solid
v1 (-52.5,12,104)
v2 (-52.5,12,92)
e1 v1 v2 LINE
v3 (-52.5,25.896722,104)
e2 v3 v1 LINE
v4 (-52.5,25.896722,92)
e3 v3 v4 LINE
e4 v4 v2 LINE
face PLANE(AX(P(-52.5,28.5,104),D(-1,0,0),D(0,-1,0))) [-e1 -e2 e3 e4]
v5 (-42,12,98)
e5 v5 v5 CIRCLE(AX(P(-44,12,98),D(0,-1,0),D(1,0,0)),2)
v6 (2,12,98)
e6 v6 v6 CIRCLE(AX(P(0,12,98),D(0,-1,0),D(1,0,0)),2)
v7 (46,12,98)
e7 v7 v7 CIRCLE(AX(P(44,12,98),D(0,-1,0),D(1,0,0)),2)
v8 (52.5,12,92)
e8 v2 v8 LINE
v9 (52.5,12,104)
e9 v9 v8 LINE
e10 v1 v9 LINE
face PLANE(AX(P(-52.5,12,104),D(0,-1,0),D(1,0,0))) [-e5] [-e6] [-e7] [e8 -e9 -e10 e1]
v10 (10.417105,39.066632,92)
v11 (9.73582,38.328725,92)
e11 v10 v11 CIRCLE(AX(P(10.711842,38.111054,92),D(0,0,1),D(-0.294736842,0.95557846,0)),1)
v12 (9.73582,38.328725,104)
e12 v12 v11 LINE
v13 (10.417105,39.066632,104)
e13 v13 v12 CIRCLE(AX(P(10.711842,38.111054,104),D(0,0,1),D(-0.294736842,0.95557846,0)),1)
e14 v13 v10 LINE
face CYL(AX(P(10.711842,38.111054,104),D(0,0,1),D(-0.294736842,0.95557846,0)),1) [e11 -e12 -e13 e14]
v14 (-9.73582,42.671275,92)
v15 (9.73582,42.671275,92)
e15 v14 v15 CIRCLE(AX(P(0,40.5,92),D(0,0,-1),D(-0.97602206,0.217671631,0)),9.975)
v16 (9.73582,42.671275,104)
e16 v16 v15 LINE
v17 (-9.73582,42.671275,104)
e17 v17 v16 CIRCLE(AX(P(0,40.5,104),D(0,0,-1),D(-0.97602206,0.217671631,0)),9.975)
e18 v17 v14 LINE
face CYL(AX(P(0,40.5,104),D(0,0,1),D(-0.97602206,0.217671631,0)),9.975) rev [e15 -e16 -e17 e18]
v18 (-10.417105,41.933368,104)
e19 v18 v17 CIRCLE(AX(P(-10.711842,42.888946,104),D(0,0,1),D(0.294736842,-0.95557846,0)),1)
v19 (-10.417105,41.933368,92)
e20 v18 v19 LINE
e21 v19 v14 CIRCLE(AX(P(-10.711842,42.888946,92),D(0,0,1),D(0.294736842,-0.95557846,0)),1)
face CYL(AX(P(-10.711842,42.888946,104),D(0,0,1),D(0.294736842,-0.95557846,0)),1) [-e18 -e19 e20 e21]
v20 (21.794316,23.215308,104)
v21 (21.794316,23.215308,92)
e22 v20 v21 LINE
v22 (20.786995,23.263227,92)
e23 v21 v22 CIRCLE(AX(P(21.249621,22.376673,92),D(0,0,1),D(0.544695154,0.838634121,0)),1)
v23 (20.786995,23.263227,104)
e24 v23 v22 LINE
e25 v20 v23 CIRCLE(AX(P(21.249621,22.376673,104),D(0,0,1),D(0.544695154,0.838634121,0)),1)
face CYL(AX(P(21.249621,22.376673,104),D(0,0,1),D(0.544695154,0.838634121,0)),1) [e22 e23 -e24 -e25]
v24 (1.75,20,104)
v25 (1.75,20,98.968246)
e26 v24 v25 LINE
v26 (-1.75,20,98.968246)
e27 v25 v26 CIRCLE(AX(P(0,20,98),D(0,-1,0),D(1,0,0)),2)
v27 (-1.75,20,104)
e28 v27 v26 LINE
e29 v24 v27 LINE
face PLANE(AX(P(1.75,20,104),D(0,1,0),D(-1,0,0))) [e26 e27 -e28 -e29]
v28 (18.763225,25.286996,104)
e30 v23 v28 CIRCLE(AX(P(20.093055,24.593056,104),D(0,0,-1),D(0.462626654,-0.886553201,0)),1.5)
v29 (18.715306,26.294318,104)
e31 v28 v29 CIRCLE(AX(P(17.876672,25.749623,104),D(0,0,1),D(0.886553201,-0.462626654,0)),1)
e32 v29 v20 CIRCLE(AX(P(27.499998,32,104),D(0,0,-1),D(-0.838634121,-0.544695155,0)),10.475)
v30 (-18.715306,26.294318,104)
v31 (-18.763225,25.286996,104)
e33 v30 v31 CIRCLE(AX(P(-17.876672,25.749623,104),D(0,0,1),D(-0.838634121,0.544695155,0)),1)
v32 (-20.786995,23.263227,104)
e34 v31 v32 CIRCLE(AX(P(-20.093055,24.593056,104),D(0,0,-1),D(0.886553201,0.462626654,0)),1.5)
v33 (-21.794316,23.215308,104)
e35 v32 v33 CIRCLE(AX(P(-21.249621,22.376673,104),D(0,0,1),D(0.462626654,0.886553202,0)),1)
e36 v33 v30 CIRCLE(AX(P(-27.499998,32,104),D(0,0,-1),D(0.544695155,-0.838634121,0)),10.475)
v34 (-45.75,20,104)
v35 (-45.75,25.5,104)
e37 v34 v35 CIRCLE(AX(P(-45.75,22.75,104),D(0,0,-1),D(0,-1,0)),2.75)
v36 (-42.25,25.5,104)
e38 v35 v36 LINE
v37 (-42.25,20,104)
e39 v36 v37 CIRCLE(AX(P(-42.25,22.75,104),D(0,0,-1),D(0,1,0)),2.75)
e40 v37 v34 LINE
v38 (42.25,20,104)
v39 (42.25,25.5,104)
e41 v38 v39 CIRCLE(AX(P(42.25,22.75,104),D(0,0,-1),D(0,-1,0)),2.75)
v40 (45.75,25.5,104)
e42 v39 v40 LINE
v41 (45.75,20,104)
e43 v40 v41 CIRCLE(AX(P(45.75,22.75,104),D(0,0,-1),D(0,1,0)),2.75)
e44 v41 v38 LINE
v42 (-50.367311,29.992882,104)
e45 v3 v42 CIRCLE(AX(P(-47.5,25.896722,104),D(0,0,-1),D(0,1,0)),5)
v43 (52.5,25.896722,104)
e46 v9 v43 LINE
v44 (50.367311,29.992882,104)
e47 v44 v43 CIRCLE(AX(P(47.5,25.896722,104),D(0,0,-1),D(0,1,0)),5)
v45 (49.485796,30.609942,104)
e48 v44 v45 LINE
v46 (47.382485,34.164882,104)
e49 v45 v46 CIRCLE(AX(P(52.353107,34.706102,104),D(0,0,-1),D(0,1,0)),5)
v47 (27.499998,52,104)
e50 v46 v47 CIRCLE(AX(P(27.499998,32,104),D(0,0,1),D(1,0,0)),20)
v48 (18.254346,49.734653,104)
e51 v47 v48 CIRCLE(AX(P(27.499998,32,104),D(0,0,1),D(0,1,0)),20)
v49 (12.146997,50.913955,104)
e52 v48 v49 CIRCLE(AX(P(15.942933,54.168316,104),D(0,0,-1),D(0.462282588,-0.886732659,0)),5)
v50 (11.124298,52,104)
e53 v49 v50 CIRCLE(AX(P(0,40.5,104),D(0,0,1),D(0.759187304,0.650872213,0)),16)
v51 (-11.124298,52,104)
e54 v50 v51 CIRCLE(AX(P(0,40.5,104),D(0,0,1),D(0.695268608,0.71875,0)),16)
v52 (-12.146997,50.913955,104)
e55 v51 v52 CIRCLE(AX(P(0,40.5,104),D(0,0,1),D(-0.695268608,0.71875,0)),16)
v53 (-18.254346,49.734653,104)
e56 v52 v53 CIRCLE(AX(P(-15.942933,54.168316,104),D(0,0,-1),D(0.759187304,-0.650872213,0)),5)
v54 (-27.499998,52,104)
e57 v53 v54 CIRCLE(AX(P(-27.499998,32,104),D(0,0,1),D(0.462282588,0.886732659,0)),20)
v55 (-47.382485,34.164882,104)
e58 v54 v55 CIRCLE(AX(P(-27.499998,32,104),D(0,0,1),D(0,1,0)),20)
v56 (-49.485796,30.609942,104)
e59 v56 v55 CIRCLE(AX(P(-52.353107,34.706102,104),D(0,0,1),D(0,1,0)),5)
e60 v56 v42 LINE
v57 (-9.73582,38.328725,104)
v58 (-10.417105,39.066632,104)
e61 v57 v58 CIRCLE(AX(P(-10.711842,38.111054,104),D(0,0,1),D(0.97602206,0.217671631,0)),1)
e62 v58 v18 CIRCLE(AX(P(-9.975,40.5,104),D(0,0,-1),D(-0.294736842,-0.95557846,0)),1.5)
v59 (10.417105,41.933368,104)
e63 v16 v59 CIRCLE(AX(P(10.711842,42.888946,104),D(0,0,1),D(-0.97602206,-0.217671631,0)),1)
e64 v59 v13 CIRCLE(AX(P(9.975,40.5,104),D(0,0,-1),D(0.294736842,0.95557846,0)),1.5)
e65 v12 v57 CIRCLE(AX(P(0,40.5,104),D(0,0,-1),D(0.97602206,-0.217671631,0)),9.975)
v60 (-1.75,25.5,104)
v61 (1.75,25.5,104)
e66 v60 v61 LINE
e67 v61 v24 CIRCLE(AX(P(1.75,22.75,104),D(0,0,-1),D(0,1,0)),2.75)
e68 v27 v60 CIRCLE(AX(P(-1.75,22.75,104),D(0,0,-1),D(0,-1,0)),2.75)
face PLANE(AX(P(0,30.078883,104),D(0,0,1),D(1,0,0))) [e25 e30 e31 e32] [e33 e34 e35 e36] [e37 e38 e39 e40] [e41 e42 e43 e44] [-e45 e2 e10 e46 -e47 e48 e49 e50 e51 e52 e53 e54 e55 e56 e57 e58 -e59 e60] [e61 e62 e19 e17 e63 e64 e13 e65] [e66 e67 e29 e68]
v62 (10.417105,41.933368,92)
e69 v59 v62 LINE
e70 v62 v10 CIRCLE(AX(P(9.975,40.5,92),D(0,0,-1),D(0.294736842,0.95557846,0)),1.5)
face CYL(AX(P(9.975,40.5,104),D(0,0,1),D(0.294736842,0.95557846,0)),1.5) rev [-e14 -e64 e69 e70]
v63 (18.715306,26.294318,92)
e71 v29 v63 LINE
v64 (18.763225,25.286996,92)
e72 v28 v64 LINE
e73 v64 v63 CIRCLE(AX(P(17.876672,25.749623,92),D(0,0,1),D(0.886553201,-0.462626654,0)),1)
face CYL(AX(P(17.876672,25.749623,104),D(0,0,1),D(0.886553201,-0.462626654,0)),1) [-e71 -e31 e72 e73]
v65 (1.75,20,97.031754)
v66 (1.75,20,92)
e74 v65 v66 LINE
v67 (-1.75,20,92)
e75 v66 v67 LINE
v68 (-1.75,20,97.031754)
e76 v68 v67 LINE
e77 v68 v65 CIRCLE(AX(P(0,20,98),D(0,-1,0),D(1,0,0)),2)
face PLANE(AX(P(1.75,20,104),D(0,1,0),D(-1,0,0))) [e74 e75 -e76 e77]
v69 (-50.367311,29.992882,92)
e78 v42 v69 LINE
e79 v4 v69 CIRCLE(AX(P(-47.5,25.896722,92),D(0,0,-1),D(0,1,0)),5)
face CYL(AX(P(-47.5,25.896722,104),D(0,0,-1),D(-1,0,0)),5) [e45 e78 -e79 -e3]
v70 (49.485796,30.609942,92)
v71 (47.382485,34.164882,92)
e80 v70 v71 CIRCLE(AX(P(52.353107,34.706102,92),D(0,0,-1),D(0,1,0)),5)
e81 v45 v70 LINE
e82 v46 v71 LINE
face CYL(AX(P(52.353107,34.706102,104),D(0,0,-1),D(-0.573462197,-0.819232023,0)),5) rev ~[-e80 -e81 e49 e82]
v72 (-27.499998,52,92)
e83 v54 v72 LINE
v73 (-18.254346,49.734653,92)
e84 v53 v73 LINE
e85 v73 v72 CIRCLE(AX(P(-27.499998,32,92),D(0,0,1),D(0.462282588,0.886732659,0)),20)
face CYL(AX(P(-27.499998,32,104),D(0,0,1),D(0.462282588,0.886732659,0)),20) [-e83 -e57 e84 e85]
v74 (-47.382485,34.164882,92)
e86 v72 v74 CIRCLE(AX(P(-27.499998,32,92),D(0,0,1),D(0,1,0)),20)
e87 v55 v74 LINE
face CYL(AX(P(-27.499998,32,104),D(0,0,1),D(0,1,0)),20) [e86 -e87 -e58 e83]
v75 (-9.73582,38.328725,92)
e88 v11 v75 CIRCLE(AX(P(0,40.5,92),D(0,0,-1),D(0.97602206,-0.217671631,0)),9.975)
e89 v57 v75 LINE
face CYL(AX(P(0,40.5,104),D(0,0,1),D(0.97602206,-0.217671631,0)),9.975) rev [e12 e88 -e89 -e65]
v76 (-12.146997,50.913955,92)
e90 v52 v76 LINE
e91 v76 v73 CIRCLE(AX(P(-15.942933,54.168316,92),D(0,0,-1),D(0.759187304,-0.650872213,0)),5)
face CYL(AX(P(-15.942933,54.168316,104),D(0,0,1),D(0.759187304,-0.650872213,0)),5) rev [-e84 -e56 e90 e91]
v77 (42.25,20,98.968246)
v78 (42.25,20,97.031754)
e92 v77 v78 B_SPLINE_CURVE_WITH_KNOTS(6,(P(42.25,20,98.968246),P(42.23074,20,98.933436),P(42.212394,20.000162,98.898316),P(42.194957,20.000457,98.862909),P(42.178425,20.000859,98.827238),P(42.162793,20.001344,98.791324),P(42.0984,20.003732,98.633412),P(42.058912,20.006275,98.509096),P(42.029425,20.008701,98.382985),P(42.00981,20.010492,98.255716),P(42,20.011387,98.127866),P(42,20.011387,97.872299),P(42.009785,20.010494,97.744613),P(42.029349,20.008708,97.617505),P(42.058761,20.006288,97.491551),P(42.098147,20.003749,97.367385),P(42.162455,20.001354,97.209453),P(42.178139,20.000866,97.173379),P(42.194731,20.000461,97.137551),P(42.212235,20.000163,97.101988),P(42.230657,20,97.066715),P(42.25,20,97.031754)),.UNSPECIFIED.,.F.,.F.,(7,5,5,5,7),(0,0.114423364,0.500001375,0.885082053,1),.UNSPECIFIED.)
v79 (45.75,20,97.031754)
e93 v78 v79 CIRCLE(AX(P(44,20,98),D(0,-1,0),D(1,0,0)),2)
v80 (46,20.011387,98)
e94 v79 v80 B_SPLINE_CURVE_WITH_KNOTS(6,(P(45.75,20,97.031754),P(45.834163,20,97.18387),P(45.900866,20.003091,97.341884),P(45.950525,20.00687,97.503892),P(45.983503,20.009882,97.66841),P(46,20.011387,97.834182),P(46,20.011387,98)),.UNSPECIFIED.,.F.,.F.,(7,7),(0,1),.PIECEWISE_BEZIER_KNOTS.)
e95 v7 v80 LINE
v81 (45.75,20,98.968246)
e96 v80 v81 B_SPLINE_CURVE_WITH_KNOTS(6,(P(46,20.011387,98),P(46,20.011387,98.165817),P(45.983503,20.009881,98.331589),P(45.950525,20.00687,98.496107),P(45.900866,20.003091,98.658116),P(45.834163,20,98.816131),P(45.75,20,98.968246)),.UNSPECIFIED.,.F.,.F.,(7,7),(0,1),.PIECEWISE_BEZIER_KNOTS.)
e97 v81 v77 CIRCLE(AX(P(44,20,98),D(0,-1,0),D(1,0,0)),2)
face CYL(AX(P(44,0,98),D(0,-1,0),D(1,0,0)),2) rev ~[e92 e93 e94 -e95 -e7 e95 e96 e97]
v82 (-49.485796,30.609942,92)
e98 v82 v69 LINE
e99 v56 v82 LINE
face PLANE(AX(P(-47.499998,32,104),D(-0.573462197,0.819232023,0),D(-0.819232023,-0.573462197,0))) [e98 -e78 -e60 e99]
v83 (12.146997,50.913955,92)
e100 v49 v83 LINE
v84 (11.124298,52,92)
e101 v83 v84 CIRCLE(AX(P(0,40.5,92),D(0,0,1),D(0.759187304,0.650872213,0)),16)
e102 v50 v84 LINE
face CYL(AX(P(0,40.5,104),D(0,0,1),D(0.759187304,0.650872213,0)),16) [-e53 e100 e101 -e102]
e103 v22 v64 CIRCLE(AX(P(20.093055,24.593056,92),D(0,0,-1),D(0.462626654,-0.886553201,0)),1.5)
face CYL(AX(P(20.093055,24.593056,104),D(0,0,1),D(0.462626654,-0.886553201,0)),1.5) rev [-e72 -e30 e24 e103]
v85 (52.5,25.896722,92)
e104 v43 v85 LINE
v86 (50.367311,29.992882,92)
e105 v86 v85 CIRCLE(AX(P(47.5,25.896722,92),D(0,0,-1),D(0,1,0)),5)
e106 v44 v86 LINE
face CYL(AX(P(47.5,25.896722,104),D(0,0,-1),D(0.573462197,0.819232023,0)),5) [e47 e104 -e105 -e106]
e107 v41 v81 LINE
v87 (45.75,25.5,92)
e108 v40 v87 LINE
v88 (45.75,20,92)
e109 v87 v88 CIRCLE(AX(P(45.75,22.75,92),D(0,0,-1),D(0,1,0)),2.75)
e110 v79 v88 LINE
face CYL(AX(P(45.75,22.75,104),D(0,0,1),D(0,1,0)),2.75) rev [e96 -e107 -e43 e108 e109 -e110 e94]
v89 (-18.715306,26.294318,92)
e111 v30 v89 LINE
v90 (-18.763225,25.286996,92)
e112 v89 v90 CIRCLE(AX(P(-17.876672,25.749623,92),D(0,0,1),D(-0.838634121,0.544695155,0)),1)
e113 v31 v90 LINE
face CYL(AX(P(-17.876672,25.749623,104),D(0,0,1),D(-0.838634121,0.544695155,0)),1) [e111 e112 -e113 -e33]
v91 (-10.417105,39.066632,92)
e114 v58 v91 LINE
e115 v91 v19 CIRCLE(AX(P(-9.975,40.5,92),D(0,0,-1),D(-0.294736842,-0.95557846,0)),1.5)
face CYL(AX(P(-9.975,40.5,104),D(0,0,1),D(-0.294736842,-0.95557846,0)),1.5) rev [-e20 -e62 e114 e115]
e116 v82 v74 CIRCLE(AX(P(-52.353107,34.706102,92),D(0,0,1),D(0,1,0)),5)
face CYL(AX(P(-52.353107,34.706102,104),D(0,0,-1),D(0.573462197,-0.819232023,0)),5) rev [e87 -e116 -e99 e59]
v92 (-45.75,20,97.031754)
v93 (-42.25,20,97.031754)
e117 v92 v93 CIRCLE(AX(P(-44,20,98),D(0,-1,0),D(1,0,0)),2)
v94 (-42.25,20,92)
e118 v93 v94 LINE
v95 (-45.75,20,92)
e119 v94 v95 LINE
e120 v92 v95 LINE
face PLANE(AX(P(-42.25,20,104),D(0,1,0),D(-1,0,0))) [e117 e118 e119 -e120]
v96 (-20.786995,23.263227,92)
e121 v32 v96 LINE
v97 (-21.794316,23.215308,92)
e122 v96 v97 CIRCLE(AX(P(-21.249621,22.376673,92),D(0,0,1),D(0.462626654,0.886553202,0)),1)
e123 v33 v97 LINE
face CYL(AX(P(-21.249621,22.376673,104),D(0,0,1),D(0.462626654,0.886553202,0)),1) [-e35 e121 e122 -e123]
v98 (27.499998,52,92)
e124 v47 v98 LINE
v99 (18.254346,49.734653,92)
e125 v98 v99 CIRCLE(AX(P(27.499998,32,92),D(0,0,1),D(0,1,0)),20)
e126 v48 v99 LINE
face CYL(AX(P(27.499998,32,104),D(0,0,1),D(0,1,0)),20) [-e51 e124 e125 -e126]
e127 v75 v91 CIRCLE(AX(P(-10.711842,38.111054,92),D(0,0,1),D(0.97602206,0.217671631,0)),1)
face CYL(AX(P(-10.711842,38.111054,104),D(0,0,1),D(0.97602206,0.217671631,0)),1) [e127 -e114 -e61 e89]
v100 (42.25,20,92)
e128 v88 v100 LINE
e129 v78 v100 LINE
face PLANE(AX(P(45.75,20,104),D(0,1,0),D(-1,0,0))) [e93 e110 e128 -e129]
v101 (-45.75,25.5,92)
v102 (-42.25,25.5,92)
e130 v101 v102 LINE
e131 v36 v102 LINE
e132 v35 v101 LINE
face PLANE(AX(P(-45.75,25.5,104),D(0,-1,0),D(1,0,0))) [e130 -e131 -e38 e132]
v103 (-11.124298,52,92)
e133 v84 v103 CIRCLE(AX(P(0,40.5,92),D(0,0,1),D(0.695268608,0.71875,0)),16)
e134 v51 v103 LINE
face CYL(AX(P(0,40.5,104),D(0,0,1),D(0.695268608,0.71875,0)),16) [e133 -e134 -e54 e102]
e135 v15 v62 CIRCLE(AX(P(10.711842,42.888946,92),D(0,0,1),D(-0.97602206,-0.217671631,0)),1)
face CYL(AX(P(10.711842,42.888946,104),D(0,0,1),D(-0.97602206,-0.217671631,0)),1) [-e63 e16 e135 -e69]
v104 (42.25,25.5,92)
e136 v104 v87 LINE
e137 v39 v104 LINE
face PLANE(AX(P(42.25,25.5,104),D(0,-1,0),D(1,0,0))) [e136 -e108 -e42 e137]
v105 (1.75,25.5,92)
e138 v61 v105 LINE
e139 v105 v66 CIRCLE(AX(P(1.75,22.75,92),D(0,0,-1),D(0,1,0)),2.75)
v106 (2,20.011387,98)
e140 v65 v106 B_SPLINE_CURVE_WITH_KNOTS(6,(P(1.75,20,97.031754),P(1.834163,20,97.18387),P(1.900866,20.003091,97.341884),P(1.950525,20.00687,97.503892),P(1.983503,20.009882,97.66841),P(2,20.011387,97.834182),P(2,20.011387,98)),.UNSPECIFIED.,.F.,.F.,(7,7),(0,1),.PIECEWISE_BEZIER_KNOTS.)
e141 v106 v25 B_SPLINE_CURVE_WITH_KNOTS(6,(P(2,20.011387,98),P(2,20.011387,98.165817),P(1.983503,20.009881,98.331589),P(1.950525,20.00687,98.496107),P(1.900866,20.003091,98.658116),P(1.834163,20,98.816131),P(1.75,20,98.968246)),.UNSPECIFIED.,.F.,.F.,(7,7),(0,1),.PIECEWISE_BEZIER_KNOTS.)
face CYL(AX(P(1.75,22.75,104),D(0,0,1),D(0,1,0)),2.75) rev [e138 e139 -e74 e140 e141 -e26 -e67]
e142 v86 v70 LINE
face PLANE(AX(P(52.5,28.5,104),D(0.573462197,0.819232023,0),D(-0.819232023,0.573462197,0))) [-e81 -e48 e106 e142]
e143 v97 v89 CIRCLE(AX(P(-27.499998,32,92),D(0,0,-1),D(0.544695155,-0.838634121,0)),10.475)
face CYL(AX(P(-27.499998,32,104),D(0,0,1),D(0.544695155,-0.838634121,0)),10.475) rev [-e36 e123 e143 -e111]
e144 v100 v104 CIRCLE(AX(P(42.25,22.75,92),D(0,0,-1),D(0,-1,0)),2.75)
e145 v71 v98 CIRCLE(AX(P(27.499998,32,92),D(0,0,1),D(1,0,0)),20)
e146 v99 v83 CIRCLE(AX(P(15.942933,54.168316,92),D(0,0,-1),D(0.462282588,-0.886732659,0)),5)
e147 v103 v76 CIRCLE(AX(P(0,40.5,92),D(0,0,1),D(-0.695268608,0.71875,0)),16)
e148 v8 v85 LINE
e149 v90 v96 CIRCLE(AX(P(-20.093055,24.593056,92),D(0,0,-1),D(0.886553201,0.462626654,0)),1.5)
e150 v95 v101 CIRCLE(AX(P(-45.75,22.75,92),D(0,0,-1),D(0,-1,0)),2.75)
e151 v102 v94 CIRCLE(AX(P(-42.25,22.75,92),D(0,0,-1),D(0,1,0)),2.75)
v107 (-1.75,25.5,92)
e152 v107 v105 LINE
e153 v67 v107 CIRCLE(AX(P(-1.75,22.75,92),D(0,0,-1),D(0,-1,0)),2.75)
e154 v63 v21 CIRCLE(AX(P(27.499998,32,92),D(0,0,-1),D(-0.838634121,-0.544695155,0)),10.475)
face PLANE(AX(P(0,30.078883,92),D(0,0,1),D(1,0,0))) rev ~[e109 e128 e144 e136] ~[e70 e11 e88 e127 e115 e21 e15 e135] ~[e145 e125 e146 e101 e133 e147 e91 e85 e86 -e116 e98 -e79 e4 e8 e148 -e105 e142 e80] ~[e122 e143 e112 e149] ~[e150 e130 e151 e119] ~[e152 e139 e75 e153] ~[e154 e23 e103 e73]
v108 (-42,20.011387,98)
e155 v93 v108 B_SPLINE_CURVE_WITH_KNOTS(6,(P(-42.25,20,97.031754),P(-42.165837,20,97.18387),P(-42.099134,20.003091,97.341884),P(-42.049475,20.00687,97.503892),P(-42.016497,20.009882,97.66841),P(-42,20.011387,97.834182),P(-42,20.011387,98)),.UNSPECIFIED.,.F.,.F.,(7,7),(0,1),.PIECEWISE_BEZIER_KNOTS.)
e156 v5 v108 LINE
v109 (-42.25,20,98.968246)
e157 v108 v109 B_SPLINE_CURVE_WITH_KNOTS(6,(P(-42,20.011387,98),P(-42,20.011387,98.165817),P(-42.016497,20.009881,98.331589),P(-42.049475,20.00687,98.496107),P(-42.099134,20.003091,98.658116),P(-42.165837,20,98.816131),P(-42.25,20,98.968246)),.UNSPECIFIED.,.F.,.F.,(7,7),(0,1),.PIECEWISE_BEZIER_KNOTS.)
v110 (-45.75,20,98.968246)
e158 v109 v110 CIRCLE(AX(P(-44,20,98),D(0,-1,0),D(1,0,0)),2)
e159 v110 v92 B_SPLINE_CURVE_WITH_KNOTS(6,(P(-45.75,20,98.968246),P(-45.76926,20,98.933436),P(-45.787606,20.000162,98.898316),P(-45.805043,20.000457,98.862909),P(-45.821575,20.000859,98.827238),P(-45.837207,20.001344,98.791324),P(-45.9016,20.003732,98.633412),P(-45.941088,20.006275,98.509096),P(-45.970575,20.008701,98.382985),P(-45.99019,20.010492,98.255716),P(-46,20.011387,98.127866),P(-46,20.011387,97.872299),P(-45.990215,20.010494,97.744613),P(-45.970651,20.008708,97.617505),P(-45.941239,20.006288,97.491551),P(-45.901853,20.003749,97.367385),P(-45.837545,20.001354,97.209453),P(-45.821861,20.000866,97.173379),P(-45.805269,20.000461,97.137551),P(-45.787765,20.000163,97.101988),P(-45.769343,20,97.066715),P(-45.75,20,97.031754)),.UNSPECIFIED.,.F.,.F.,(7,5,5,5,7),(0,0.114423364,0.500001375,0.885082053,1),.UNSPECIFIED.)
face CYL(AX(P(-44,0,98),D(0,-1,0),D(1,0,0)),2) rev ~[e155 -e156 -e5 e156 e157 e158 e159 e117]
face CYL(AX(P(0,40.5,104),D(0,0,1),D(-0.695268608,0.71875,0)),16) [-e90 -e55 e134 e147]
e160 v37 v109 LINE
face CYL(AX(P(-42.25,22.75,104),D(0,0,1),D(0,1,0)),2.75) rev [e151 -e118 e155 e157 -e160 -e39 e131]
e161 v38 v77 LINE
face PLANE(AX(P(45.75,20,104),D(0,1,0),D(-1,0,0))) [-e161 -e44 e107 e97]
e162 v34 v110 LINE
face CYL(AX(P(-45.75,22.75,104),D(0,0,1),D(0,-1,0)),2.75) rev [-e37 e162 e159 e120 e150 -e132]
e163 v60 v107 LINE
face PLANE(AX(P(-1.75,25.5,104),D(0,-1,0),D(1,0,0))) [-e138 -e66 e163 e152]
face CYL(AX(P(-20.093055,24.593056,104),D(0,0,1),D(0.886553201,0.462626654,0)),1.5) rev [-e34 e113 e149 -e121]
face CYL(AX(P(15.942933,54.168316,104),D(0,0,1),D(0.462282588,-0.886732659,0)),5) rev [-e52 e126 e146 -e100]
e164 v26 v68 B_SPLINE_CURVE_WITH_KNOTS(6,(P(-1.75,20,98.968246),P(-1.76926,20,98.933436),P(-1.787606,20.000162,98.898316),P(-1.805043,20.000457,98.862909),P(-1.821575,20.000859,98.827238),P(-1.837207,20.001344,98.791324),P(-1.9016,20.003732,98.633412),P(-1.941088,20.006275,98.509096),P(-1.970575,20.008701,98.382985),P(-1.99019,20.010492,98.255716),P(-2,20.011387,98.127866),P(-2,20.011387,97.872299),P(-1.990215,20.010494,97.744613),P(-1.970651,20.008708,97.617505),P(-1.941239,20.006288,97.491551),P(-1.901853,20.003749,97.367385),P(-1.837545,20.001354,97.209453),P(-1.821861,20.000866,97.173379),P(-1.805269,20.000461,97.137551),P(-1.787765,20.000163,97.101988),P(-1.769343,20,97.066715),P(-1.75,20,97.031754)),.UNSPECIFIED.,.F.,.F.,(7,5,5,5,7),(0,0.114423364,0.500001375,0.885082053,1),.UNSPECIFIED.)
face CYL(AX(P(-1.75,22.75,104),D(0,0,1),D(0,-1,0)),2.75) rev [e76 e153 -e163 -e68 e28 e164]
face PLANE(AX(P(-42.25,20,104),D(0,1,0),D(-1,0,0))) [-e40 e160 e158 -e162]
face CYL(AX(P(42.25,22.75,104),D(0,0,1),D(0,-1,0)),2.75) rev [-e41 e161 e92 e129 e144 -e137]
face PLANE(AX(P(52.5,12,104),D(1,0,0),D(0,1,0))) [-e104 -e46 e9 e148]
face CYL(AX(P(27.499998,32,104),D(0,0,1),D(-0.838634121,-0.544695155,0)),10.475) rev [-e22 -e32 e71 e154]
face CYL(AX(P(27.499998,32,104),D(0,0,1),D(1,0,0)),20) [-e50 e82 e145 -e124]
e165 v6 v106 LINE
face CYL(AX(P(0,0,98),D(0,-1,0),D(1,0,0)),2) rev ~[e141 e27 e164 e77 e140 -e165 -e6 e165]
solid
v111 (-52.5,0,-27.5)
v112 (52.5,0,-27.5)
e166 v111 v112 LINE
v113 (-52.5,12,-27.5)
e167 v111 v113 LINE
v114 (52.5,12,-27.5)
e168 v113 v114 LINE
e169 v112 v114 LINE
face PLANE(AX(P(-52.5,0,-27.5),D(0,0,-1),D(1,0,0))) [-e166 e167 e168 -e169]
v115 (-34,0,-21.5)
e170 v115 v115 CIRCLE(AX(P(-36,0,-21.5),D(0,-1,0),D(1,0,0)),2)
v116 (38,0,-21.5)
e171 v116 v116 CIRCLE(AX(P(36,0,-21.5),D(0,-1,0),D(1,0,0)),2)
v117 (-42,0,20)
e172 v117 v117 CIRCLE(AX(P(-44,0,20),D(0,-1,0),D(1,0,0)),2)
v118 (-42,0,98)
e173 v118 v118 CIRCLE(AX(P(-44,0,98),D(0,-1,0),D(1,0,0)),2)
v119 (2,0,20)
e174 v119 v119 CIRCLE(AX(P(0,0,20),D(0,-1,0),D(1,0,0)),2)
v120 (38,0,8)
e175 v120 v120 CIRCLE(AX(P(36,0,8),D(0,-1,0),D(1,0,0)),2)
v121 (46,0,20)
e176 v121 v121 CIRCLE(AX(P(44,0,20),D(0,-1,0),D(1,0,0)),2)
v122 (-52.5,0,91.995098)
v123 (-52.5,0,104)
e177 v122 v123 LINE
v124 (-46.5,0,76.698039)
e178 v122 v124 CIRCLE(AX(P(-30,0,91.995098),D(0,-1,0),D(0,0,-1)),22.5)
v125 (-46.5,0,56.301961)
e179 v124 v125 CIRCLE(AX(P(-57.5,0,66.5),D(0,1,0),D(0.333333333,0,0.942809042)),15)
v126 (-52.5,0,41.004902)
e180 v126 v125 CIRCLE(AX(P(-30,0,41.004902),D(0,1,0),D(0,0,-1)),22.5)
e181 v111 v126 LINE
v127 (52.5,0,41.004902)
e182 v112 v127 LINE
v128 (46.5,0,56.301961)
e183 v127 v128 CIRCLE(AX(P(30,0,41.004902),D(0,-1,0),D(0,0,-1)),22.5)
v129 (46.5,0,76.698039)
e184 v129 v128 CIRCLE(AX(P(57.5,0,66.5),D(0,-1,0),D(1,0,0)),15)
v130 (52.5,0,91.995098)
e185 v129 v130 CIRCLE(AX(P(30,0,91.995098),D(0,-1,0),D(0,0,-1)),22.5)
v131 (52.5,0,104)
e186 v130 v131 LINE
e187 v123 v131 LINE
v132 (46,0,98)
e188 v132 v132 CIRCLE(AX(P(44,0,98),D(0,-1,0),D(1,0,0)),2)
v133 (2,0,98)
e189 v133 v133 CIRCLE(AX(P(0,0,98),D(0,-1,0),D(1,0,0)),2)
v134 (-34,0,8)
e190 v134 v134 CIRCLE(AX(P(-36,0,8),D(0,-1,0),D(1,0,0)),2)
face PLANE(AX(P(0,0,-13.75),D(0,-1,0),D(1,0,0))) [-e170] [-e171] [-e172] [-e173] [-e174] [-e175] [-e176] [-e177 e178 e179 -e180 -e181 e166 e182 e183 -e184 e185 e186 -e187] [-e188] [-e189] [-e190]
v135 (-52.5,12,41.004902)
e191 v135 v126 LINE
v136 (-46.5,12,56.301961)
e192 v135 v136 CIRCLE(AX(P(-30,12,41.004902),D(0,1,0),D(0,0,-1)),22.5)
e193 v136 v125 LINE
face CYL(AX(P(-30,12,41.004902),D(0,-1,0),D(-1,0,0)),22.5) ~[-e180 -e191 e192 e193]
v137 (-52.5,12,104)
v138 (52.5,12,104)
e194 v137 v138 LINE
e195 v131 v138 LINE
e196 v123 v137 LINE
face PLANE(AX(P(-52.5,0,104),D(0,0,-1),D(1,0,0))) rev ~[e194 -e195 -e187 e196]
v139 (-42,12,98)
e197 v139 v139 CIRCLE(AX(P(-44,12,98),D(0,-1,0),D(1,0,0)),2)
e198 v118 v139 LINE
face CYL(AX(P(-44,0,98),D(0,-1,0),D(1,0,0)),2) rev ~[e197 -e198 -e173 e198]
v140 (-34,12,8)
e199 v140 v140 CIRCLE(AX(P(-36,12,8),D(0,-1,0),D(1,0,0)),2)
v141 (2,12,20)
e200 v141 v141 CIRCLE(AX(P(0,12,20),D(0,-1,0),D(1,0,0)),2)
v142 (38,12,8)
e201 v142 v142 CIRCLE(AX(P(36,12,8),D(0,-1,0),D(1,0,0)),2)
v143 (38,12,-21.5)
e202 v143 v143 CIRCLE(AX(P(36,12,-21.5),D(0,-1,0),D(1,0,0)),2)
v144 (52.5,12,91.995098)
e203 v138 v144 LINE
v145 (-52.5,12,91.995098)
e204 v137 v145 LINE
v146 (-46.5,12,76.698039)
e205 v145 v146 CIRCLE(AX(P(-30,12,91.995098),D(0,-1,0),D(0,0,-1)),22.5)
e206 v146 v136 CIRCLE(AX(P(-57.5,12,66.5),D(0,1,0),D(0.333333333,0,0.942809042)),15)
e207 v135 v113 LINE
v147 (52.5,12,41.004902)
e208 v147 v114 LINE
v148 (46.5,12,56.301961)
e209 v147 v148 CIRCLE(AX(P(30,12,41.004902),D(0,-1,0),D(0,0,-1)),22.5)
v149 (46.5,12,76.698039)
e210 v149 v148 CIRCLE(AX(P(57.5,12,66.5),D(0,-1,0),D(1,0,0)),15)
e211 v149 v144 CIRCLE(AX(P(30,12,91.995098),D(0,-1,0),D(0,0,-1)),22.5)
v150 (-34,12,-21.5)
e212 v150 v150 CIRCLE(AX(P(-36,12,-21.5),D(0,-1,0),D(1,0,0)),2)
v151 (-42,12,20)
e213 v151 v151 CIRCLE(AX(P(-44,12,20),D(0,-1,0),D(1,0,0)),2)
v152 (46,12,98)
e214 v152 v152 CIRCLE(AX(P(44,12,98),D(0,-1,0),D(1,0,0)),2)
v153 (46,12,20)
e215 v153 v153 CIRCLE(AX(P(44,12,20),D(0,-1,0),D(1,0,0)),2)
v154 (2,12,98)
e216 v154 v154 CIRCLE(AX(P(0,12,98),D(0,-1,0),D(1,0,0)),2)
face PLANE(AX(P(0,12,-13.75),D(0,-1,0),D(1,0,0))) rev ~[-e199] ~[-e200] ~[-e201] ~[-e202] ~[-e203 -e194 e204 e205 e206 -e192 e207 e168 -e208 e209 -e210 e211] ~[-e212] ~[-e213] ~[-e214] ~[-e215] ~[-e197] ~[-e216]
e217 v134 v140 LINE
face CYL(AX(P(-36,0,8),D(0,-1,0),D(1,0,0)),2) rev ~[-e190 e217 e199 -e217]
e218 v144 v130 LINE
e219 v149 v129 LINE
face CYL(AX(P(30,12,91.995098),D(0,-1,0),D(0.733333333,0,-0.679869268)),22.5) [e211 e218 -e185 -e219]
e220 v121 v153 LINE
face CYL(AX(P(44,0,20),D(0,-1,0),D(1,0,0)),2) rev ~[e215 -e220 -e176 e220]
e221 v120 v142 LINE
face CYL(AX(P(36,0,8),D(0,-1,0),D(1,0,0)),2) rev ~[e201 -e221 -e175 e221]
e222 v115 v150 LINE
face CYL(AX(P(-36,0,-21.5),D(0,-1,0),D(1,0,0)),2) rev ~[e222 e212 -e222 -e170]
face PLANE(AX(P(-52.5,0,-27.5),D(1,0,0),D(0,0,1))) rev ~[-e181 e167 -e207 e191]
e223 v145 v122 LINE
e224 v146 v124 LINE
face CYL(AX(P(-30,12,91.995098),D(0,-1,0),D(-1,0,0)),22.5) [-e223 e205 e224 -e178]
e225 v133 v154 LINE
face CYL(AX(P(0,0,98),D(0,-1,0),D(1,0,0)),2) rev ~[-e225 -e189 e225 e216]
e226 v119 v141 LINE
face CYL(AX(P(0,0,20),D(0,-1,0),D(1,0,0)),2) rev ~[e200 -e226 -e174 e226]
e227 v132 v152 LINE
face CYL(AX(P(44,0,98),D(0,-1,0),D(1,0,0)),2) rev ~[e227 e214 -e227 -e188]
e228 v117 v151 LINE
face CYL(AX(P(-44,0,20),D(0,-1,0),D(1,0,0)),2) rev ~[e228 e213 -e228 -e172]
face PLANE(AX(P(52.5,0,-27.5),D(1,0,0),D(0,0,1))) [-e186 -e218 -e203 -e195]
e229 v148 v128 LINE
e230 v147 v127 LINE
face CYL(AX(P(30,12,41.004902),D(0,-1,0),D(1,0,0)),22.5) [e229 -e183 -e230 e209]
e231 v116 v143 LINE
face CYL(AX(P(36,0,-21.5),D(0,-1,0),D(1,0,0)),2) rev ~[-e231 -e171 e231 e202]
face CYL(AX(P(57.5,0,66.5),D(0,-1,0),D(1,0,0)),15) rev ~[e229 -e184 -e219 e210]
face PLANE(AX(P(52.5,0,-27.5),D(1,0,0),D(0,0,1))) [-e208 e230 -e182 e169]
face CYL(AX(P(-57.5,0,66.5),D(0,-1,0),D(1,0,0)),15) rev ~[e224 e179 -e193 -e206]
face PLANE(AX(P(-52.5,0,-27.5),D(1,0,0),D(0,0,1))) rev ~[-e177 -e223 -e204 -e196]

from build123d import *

# Parameters (mm, degrees)
F0_W      = 105
F0_H      = 104
F1_DEPTH  = 12
F3_DEPTH  = 12
F4_R      = 5
F5_W      = 105
F5_H      = 27.5
F6_DEPTH  = 12
F7_R      = 2
F8_DEPTH  = 25
F9_R      = 15
F10_DEPTH = 25
F11_R     = 22.5


with BuildPart() as f1:
    # F0 (on Front) → F1 (new body)
    with BuildSketch(Plane.XZ):
        with Locations((0, 52)):
            Rectangle(F0_W, F0_H)
    extrude(amount=-F1_DEPTH)

    # F5 (on face) → F6 (join, through all)
    with BuildSketch(Plane.XZ):
        with Locations((0, -13.75)):
            Rectangle(F5_W, F5_H)
    extrude(amount=-F6_DEPTH)


with BuildPart() as f3:
    # F2 (on face) → F3 (new body)
    with BuildSketch(Plane.XY.offset(104)):
        with BuildLine():
            Line((52.5, 28.5), (47.4999980907, 32))
            ThreePointArc((47.4999980907, 32), (41.6421337144, 46.1421356237), (27.4999980907, 52))
            ThreePointArc((27.4999980907, 52), (22.740432122, 51.4254094369), (18.2543463224, 49.734653179))
            ThreePointArc((18.2543463224, 49.734653179), (14.9949666089, 49.259002978), (12.1469968613, 50.9139554086))
            ThreePointArc((12.1469968613, 50.9139554086), (11.6483115175, 51.4689032629), (11.1242977306, 52))
            ThreePointArc((11.1242977306, 52), (0, 56.5), (-11.1242977306, 52))
            ThreePointArc((-11.1242977306, 52), (-11.6483115175, 51.4689032629), (-12.1469968613, 50.9139554086))
            ThreePointArc((-12.1469968613, 50.9139554086), (-14.9949666089, 49.259002978), (-18.2543463224, 49.734653179))
            ThreePointArc((-18.2543463224, 49.734653179), (-22.740432122, 51.4254094369), (-27.4999980907, 52))
            ThreePointArc((-27.4999980907, 52), (-41.6421337144, 46.1421356237), (-47.4999980907, 32))
            Line((-47.4999980907, 32), (-52.5, 28.5))
            Line((-52.5, 28.5), (-52.5, 12))
            Line((-52.5, 12), (-47.5, 12))
            Line((-47.5, 12), (47.5, 12))
            Line((47.5, 12), (52.5, 12))
            Line((52.5, 12), (52.5, 28.5))
        make_face()
        with BuildLine():
            Line((-45.75, 25.5), (-42.25, 25.5))
            ThreePointArc((-42.25, 25.5), (-39.5, 22.75), (-42.25, 20))
            Line((-42.25, 20), (-45.75, 20))
            ThreePointArc((-45.75, 20), (-48.5, 22.75), (-45.75, 25.5))
        make_face(mode=Mode.SUBTRACT)
        with BuildLine():
            ThreePointArc((-20.7869945386, 23.2632266648), (-21.2971382344, 23.3755438907), (-21.794316347, 23.2153075842))
            ThreePointArc((-21.794316347, 23.2153075842), (-34.9069416236, 39.4069435329), (-18.7153056748, 26.2943182564))
            ThreePointArc((-18.7153056748, 26.2943182564), (-18.8755419814, 25.7971401438), (-18.7632247555, 25.286996448))
            ThreePointArc((-18.7632247555, 25.286996448), (-19.0323943859, 23.5323962953), (-20.7869945386, 23.2632266648))
        make_face(mode=Mode.SUBTRACT)
        with BuildLine():
            ThreePointArc((-1.75, 20), (-4.5, 22.75), (-1.75, 25.5))
            Line((-1.75, 25.5), (1.75, 25.5))
            ThreePointArc((1.75, 25.5), (4.5, 22.75), (1.75, 20))
            Line((1.75, 20), (-1.75, 20))
        make_face(mode=Mode.SUBTRACT)
        with BuildLine():
            ThreePointArc((42.25, 20), (39.5, 22.75), (42.25, 25.5))
            Line((42.25, 25.5), (45.75, 25.5))
            ThreePointArc((45.75, 25.5), (48.5, 22.75), (45.75, 20))
            Line((45.75, 20), (42.25, 20))
        make_face(mode=Mode.SUBTRACT)
        with BuildLine():
            ThreePointArc((18.7153056748, 26.2943182564), (34.9069416236, 39.4069435329), (21.794316347, 23.2153075842))
            ThreePointArc((21.794316347, 23.2153075842), (21.2971382344, 23.3755438907), (20.7869945386, 23.2632266648))
            ThreePointArc((20.7869945386, 23.2632266648), (19.0323943859, 23.5323962953), (18.7632247555, 25.286996448))
            ThreePointArc((18.7632247555, 25.286996448), (18.8755419814, 25.7971401438), (18.7153056748, 26.2943182564))
        make_face(mode=Mode.SUBTRACT)
        with BuildLine():
            ThreePointArc((9.7358200456, 38.3287254802), (0, 30.525), (-9.7358200456, 38.3287254802))
            ThreePointArc((-9.7358200456, 38.3287254802), (-9.9771083652, 38.7894094573), (-10.4171052632, 39.0666323095))
            ThreePointArc((-10.4171052632, 39.0666323095), (-11.475, 40.5), (-10.4171052632, 41.9333676905))
            ThreePointArc((-10.4171052632, 41.9333676905), (-9.9771083652, 42.2105905427), (-9.7358200456, 42.6712745198))
            ThreePointArc((-9.7358200456, 42.6712745198), (0, 50.475), (9.7358200456, 42.6712745198))
            ThreePointArc((9.7358200456, 42.6712745198), (9.9771083652, 42.2105905427), (10.4171052632, 41.9333676905))
            ThreePointArc((10.4171052632, 41.9333676905), (11.475, 40.5), (10.4171052632, 39.0666323095))
            ThreePointArc((10.4171052632, 39.0666323095), (9.9771083652, 38.7894094573), (9.7358200456, 38.3287254802))
        make_face(mode=Mode.SUBTRACT)
    extrude(amount=-F3_DEPTH)

    # F4
    f4_edges = [f3.edges().sort_by_distance(p)[0] for p in [
        (-47.499998, 32, 98),
        (-52.5, 28.5, 98),
        (47.499998, 32, 98),
        (52.5, 28.5, 98),
    ]]
    fillet(f4_edges, radius=F4_R)


with BuildPart() as f8_tool:
    # F7 (on face) → F8 (new body)
    with BuildSketch(Plane.XZ):
        with Locations((-44, 98)):
            Circle(F7_R)
        with Locations((44, 98)):
            Circle(F7_R)
        with Locations((0, 98)):
            Circle(F7_R)
        with Locations((44, 20)):
            Circle(F7_R)
        with Locations((0, 20)):
            Circle(F7_R)
        with Locations((-44, 20)):
            Circle(F7_R)
        with Locations((-36, -21.5)):
            Circle(F7_R)
        with Locations((36, -21.5)):
            Circle(F7_R)
        with Locations((36, 8)):
            Circle(F7_R)
        with Locations((-36, 8)):
            Circle(F7_R)
    extrude(amount=-F8_DEPTH)


with BuildPart() as f1_1:
    add(f1.part)

    # F8: cut by f8_tool
    add(f8_tool.part, mode=Mode.SUBTRACT)

    # F9 (on face) → F10 (cut)
    with BuildSketch(Plane.XZ):
        with Locations((-57.5, 66.5)):
            Circle(F9_R)
        with Locations((57.5, 66.5)):
            Circle(F9_R)
    extrude(amount=-F10_DEPTH, mode=Mode.SUBTRACT)

    # F11
    f11_edges = [f1_1.edges().sort_by_distance(p)[0] for p in [
        (-52.5, 6, 80.642136),
        (-52.5, 6, 52.357864),
        (52.5, 6, 80.642136),
        (52.5, 6, 52.357864),
    ]]
    fillet(f11_edges, radius=F11_R)


with BuildPart() as f3_1:
    add(f3.part)

    # F8: cut by f8_tool
    add(f8_tool.part, mode=Mode.SUBTRACT)


solid = Compound([f1_1.part, f3_1.part])
